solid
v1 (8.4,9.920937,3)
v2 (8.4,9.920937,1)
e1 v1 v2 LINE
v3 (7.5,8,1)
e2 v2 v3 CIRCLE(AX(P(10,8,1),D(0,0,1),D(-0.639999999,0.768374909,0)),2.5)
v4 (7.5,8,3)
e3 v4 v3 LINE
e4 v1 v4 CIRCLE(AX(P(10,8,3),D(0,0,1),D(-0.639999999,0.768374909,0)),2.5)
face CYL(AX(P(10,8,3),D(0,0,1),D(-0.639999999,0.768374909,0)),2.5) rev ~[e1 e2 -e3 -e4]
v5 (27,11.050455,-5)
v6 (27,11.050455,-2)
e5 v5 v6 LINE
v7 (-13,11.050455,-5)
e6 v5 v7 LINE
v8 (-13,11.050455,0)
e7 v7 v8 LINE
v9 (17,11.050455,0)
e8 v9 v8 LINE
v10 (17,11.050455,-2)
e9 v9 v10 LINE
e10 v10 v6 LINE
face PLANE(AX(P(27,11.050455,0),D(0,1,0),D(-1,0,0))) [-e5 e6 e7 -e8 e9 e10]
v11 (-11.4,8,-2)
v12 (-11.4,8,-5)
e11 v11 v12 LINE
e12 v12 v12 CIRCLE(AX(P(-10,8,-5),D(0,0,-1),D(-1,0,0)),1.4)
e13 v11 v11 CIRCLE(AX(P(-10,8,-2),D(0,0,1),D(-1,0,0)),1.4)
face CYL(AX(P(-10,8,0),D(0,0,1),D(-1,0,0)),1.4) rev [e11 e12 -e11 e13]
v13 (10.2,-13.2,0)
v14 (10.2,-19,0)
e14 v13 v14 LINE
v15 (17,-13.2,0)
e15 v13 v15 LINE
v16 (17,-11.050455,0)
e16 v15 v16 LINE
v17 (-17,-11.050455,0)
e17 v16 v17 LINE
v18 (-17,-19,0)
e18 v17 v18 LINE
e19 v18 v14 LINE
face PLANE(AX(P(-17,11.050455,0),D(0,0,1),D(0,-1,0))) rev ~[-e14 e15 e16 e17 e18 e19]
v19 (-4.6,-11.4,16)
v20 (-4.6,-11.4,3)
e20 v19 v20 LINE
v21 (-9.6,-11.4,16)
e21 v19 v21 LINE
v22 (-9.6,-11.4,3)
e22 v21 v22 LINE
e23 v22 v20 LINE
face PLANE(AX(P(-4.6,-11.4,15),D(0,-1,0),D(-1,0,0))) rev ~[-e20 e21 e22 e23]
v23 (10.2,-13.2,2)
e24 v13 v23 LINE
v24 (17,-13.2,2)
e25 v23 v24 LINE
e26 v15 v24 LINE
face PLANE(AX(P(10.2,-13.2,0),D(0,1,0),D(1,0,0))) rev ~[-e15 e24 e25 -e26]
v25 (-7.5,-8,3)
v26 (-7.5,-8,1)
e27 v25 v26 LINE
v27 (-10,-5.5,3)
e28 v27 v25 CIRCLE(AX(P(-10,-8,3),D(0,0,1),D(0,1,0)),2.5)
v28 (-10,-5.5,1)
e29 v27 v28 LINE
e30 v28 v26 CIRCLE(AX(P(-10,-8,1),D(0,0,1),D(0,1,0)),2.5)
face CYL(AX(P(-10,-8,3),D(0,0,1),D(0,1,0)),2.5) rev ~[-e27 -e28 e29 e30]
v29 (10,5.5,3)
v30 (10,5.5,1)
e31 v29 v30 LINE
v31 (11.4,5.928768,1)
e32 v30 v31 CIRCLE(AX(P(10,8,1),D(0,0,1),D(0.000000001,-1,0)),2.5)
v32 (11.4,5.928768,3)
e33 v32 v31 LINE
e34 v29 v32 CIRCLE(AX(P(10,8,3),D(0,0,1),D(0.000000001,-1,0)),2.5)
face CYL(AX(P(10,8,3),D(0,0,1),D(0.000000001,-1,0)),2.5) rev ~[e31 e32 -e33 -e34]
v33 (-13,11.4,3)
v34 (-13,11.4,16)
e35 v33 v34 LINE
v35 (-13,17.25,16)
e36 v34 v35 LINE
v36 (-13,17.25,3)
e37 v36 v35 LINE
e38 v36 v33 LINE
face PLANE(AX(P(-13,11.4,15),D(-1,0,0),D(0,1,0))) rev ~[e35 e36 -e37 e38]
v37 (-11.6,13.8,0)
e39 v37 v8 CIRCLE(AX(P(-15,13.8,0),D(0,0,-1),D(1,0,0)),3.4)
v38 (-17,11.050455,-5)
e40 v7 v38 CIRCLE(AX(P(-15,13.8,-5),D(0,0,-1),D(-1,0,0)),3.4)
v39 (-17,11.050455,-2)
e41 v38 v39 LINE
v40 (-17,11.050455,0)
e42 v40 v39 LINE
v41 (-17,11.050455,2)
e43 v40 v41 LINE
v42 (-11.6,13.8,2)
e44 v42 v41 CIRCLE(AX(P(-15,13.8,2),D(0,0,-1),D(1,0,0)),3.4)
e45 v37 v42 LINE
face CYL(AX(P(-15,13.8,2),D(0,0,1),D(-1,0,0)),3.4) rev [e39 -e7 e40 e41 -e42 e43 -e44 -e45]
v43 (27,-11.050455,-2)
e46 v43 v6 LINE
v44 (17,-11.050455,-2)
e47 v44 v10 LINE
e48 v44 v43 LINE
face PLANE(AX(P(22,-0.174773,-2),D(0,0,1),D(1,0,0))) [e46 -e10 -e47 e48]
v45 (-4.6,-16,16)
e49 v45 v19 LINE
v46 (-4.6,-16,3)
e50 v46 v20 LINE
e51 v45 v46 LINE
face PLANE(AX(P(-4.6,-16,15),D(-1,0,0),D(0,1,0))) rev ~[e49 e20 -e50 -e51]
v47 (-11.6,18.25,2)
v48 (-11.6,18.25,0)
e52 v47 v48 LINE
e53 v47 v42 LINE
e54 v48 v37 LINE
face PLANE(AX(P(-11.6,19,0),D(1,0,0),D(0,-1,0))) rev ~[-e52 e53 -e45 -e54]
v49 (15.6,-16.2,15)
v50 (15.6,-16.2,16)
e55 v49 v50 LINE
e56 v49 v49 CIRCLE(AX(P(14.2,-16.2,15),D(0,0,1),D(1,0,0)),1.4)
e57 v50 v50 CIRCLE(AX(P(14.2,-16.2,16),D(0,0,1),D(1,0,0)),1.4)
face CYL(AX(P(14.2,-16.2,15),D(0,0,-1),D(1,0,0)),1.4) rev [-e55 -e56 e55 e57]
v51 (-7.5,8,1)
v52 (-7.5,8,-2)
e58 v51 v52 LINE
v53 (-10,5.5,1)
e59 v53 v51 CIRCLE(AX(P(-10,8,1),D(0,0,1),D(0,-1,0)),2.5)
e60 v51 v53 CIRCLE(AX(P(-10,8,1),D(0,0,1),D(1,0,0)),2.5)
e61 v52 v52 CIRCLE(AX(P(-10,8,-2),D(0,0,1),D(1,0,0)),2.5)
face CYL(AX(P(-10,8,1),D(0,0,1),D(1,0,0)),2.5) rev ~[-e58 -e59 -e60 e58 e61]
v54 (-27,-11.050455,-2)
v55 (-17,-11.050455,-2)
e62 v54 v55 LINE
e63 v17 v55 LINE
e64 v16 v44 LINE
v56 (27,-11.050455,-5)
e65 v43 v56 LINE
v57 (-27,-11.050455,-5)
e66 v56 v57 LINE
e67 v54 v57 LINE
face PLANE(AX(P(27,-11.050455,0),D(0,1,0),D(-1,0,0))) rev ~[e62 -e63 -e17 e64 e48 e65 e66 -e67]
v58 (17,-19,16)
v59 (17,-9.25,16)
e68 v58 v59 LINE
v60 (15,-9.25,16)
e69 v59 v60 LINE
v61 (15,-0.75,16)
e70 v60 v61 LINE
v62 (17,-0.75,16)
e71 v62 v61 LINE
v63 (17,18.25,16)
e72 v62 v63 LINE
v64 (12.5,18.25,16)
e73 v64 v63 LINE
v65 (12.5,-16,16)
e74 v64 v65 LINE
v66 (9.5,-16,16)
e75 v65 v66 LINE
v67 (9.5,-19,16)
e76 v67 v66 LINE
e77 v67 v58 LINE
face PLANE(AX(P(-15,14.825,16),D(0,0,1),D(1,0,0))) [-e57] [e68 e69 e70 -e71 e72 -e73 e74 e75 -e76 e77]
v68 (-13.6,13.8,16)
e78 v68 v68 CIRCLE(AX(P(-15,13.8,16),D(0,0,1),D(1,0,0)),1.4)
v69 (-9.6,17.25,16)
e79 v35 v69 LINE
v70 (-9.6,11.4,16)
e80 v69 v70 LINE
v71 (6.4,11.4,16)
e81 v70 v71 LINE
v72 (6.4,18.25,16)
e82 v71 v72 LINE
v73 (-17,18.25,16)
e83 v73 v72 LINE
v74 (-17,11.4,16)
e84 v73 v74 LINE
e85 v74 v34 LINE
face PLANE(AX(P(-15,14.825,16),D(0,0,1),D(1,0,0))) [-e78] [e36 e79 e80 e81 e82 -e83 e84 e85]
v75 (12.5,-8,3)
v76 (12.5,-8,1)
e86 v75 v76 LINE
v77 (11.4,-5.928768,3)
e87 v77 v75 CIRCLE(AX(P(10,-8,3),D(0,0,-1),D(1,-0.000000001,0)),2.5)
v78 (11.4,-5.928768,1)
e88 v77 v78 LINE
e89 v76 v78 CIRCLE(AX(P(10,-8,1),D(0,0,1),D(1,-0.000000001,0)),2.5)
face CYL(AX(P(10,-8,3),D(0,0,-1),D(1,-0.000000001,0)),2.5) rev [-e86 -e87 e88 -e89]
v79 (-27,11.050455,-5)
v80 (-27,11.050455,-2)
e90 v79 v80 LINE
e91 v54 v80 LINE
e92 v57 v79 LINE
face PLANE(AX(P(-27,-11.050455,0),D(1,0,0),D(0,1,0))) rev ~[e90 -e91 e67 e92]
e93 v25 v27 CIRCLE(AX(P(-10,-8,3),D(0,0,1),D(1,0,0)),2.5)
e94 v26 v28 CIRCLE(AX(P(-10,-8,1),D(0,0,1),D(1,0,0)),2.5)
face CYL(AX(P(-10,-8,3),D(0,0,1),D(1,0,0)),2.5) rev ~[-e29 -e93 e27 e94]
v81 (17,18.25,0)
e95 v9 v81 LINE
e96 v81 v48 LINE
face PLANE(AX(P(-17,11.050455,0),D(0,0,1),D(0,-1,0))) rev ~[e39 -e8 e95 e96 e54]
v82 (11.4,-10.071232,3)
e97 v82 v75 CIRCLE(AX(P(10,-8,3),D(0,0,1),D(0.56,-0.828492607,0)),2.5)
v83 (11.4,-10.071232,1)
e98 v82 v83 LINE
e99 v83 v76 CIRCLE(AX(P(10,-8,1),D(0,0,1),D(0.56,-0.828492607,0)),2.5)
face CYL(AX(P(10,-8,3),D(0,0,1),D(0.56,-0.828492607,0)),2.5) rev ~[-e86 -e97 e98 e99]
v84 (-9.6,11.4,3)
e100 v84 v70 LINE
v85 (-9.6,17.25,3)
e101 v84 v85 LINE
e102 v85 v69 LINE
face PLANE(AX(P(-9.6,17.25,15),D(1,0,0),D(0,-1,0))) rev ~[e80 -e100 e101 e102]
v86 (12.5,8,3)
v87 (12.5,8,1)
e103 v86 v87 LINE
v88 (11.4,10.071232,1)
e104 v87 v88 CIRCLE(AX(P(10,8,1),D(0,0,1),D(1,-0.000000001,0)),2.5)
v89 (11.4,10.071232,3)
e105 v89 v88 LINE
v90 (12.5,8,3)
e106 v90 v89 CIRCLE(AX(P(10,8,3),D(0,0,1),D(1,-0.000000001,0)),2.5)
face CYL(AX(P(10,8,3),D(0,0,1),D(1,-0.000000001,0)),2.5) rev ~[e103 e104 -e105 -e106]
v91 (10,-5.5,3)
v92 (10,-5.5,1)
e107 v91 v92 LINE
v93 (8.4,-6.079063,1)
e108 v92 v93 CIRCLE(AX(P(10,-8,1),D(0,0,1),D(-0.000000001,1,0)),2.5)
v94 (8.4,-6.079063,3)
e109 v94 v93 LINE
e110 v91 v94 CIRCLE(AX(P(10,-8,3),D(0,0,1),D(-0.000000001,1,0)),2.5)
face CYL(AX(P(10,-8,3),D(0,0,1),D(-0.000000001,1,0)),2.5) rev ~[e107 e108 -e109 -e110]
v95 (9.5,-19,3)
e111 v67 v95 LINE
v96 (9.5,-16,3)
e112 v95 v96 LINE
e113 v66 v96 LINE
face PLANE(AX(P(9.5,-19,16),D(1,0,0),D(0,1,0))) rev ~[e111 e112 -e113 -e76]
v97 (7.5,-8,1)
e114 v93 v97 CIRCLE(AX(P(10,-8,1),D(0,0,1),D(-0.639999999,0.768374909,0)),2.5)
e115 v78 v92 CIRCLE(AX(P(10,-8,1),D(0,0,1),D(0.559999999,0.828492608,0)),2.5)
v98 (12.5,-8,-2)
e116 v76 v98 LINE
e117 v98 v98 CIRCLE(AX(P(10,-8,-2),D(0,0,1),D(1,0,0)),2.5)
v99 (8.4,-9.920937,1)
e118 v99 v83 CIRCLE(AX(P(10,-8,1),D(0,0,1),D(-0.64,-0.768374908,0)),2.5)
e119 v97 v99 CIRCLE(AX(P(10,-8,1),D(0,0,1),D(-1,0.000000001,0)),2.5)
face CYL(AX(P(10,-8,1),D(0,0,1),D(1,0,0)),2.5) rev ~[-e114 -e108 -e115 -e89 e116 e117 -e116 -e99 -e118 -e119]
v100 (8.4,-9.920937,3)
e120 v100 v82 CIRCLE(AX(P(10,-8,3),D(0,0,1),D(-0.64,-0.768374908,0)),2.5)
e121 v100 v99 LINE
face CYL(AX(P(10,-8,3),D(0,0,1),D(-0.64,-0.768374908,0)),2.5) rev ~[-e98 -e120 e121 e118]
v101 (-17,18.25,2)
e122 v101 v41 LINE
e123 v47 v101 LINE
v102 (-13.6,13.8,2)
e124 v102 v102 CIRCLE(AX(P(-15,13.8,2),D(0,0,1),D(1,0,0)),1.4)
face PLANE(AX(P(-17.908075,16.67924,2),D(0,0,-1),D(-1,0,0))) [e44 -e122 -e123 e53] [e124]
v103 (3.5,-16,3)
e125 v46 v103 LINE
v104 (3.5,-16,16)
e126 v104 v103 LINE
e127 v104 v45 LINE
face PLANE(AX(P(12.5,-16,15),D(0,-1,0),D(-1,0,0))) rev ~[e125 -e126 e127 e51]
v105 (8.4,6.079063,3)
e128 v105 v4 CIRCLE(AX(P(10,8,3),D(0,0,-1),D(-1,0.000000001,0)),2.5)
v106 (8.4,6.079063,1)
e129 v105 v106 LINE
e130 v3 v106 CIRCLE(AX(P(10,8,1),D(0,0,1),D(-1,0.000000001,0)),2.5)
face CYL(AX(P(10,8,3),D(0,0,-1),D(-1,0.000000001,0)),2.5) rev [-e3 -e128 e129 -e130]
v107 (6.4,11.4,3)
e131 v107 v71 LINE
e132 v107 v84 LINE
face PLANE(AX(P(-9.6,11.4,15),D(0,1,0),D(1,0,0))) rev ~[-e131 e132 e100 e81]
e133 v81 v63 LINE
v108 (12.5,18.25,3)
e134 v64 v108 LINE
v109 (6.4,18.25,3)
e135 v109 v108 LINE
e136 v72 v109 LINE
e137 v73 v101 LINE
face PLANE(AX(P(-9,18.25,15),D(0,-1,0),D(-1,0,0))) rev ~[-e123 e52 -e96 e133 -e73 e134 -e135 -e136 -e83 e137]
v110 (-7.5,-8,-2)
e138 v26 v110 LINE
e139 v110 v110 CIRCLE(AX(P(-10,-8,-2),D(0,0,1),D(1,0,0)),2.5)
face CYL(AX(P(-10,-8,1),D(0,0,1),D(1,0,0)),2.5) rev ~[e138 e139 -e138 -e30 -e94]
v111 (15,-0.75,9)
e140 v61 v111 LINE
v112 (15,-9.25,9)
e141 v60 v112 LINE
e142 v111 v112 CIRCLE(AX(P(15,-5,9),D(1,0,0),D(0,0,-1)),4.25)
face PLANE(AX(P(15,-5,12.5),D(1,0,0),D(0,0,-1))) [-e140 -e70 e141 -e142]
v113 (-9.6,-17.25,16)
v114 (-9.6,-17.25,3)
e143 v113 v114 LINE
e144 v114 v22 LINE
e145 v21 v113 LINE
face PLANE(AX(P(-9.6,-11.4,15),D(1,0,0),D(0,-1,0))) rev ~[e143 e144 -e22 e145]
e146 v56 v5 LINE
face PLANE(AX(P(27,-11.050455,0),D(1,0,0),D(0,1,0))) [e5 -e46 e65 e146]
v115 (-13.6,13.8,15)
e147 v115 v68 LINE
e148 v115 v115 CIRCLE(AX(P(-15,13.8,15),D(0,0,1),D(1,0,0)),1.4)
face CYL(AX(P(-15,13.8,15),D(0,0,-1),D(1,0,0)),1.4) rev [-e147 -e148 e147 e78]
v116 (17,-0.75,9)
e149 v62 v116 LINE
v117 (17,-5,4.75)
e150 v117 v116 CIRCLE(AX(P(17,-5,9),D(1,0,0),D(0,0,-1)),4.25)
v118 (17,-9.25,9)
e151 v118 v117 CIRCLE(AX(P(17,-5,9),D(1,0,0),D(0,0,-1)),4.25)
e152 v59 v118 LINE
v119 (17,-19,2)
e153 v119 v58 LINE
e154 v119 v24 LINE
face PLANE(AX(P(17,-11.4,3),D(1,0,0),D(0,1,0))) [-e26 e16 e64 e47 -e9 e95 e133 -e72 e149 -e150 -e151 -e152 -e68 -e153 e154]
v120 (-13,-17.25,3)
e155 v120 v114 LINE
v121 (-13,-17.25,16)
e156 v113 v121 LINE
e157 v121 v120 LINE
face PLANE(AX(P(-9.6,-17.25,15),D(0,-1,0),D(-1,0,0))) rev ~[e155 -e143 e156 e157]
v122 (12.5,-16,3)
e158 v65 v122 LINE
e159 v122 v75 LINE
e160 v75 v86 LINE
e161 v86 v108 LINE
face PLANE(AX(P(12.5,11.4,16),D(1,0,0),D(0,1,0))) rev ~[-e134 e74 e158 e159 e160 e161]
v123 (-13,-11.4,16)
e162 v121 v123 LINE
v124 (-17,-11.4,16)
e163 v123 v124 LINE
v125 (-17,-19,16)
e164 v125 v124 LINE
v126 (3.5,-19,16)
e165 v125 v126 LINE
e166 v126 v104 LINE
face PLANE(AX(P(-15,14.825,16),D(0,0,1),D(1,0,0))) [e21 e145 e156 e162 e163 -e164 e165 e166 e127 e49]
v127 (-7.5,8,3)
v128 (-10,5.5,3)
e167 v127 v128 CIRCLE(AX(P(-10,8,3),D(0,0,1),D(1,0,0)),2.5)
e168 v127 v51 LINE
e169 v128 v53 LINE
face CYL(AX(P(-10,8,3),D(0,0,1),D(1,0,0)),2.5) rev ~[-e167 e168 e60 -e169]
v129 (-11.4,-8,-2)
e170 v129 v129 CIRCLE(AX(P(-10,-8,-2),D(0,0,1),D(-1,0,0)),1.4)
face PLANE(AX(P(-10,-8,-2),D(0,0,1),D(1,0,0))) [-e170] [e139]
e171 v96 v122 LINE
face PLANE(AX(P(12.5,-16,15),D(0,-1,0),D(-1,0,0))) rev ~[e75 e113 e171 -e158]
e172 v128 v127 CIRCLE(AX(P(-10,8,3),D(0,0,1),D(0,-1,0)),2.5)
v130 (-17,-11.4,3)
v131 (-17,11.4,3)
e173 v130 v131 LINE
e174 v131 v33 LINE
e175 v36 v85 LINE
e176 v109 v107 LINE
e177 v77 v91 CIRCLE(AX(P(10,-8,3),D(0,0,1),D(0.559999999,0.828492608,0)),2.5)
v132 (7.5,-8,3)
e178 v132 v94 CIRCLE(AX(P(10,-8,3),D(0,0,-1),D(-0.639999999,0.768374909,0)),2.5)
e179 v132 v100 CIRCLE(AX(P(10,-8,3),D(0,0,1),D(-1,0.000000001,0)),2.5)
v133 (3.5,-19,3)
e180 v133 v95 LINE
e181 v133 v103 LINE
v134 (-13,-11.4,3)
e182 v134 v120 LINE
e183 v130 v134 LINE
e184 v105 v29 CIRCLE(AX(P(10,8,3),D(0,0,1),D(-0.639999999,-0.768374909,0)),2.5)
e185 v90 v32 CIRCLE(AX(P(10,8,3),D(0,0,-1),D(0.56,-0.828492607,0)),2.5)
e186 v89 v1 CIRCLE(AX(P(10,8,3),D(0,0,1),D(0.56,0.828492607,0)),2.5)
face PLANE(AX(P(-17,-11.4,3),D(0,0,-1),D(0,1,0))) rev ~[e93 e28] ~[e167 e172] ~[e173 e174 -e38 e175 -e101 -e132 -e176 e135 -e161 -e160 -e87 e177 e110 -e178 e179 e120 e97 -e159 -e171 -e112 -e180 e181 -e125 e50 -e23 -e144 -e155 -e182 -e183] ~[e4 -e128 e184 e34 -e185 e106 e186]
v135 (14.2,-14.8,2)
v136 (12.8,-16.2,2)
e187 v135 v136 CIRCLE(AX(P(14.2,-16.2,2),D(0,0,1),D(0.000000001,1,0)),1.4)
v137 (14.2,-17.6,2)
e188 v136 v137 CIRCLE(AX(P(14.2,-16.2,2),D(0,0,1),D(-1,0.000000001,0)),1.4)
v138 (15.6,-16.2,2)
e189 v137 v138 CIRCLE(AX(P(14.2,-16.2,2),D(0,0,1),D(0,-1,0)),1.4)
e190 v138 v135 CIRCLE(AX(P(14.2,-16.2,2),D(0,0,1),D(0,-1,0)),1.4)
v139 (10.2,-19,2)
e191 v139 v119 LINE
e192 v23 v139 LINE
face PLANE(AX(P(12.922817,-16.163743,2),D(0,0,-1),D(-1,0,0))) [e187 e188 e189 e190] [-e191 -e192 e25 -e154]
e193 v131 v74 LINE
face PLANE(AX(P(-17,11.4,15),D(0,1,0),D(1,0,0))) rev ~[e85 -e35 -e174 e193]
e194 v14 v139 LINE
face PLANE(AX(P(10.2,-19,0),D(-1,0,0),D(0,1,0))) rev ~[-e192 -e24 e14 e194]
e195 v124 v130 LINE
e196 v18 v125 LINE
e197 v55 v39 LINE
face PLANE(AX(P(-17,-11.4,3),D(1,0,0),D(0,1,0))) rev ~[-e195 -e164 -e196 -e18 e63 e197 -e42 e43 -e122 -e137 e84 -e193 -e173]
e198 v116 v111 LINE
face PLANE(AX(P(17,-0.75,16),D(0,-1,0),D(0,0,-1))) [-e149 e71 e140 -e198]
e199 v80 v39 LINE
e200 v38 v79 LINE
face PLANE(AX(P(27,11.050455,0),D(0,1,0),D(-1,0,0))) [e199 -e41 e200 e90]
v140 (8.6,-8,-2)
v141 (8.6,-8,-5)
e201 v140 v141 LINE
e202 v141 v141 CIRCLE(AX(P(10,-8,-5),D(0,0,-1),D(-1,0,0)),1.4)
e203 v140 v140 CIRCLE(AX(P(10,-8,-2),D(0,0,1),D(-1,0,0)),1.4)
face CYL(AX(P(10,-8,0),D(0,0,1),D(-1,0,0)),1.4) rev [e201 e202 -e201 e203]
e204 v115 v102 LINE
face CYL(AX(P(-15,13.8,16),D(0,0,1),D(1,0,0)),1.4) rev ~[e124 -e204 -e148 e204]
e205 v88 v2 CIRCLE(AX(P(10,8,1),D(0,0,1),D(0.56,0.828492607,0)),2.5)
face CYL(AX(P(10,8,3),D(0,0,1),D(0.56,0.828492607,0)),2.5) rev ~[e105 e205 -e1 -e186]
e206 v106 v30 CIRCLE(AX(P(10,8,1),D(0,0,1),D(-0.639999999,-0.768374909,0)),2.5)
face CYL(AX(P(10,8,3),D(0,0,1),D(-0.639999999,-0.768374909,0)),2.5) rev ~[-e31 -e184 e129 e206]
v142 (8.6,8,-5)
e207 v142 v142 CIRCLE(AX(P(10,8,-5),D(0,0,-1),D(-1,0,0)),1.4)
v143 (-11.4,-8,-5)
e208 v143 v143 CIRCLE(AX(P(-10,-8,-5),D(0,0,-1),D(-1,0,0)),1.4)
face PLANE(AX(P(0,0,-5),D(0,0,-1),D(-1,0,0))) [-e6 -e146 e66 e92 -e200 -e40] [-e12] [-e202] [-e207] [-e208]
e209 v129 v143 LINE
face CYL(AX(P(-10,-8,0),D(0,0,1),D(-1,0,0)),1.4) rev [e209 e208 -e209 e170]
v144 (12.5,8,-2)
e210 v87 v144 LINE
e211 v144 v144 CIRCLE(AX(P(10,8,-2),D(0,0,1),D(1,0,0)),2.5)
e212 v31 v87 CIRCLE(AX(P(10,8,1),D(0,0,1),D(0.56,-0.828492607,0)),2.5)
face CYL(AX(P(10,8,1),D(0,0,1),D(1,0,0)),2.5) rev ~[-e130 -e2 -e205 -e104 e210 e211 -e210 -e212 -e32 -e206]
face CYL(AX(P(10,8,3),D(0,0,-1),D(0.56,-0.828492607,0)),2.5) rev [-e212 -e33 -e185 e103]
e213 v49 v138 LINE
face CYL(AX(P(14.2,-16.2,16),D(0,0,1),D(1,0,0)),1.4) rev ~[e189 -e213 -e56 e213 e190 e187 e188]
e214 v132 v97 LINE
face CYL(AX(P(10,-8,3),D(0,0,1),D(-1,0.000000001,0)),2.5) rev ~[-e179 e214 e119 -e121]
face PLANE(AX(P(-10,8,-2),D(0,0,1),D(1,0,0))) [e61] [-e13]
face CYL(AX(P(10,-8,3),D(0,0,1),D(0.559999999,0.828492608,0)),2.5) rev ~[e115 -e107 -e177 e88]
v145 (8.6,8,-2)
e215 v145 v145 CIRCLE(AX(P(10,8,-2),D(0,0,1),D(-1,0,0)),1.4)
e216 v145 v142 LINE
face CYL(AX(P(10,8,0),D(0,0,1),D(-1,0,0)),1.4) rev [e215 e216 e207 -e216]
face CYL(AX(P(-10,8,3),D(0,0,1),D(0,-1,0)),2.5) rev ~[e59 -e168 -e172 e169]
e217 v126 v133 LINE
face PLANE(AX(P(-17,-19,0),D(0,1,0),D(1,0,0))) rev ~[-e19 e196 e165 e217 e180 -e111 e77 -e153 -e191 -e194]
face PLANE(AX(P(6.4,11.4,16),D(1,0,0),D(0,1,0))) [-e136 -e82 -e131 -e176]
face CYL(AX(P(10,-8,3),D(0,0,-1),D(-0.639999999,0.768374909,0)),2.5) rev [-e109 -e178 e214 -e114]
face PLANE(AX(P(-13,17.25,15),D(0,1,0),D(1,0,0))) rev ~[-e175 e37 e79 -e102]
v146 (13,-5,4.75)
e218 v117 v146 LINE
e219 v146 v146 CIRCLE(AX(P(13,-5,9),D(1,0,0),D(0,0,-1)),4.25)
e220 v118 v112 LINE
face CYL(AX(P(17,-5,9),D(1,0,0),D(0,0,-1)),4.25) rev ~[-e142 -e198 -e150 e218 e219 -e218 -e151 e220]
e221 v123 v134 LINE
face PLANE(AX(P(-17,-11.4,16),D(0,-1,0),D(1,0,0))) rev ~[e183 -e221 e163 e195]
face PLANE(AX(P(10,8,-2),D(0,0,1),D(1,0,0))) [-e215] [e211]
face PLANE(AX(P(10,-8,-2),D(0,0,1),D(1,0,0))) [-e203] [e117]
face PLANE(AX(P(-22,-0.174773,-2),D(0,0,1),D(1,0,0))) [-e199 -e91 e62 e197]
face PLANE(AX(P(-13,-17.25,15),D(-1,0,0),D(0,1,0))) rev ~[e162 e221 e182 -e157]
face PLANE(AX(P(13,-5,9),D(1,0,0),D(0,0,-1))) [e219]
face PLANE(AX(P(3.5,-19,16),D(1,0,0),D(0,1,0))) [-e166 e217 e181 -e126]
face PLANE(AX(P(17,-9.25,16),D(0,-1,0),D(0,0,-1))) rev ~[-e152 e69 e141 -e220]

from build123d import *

# Parameters (mm, degrees)
SKETCH1_W                = 34
SKETCH1_H                = 38
BOSS_EXTRUDE1_DEPTH      = 16
SKETCH2_W                = 22.4
SKETCH2_H                = 22.8
SKETCH2_W_2              = 2.4
SKETCH2_H_2              = 4.85
CUT_EXTRUDE1_DEPTH       = 13
SKETCH3_W                = 10
SKETCH3_H                = 4.6
SKETCH3_W_2              = 3
CUT_EXTRUDE2_DEPTH       = 13
SKETCH4_R                = 1.4
CUT_EXTRUDE3_DEPTH       = 17
CUT_EXTRUDE5_DEPTH       = 2
SKETCH7_W                = 34
SKETCH7_H                = 1
CUT_EXTRUDE6_DEPTH       = 39
SKETCH9_W                = 8
SKETCH9_H                = 0.75
SKETCH9_W_2              = 5
SKETCH9_H_2              = 6.5
SKETCH9_W_3              = 3.6
SKETCH9_H_3              = 11.5
SKETCH9_W_4              = 17
SKETCH9_H_4              = 2
SKETCH9_W_5              = 3
SKETCH9_H_5              = 6.6
SKETCH9_W_6              = 5.4
CUT_EXTRUDE9_DEPTH       = 16
CUT_EXTRUDE10_DEPTH      = 13
CUT_EXTRUDE10_DEPTH_BACK = 2
SKETCH11_W               = 5
SKETCH11_H               = 4.5
CUT_EXTRUDE11_DEPTH      = 12
SKETCH12_W               = 1
SKETCH12_H               = 4.85
SKETCH12_H_2             = 22.8
CUT_EXTRUDE12_DEPTH      = 12
SKETCH14_R               = 4.25
CUT_EXTRUDE13_DEPTH      = 4
SKETCH17_W               = 3.4
SKETCH17_H               = 1
CUT_EXTRUDE16_DEPTH      = 12
SKETCH18_R               = 1.4
CUT_EXTRUDE17_DEPTH      = 12
BOSS_EXTRUDE2_DEPTH      = 16
SKETCH20_R               = 1.4
SKETCH20_W               = 3.4
SKETCH20_H               = 1
BOSS_EXTRUDE3_DEPTH      = 1
SKETCH21_W               = 5
SKETCH21_H               = 23.876697272
CUT_EXTRUDE18_DEPTH      = 13
BOSS_EXTRUDE4_DEPTH      = 10
SKETCH23_W               = 6.1
SKETCH23_H               = 6.85
CUT_EXTRUDE19_DEPTH      = 13
SKETCH26_W               = 1.2
SKETCH26_H               = 2
CUT_EXTRUDE21_DEPTH      = 2
SKETCH27_W               = 54
SKETCH27_H               = 22.100909166
SKETCH27_R               = 1.4
BOSS_EXTRUDE6_DEPTH      = 5
SKETCH28_W               = 10
SKETCH28_H               = 22.450454583
CUT_EXTRUDE22_DEPTH      = 5
SKETCH29_R               = 3.4
SKETCH29_R_2             = 1.4
CUT_EXTRUDE23_DEPTH      = 7
SKETCH30_R               = 2.5
SKETCH30_R_2             = 1.4
CUT_EXTRUDE24_DEPTH      = 3
SKETCH31_W               = 6
SKETCH31_H               = 3
CUT_EXTRUDE25_DEPTH      = 13
SKETCH32_W               = 7
SKETCH32_H               = 8.5
CUT_EXTRUDE26_DEPTH      = 2


with BuildPart() as part:
    # Sketch1 → Boss-Extrude1 (new body)
    with BuildSketch(Plane.XY):
        Rectangle(SKETCH1_W, SKETCH1_H)
    extrude(amount=BOSS_EXTRUDE1_DEPTH)

    # Sketch2 → Cut-Extrude1 (cut)
    with BuildSketch(Plane.XY.offset(16)):
        with Locations((-5.8, 0)):
            Rectangle(SKETCH2_W, SKETCH2_H)
        with Locations((-11.8, -13.825)):
            Rectangle(SKETCH2_W_2, SKETCH2_H_2)
        with Locations((-11.8, 13.825)):
            Rectangle(SKETCH2_W_2, SKETCH2_H_2)
    extrude(amount=-CUT_EXTRUDE1_DEPTH, mode=Mode.SUBTRACT)

    # Sketch3 → Cut-Extrude2 (cut)
    with BuildSketch(Plane.XY.offset(16)):
        Polygon((8.4, 19), (8.4, -11.4), (8.4, -16), (11.4, -16), (11.4, 19), align=None)
        with Locations((0.4, -13.7)):
            Rectangle(SKETCH3_W, SKETCH3_H)
        with Locations((6.9, -13.7)):
            Rectangle(SKETCH3_W_2, SKETCH3_H)
    extrude(amount=-CUT_EXTRUDE2_DEPTH, mode=Mode.SUBTRACT)

    # Sketch4 → Cut-Extrude3 (cut, through all)
    with BuildSketch(Plane.XY.offset(16)):
        with Locations((-15, 13.8)):
            Circle(SKETCH4_R)
        with Locations((14.2, -16.2)):
            Circle(SKETCH4_R)
    extrude(amount=-CUT_EXTRUDE3_DEPTH, mode=Mode.SUBTRACT)

    # Sketch5 → Cut-Extrude5 (cut)
    with BuildSketch(Plane(origin=(0, 0, 0), x_dir=(-1, 0, 0), z_dir=(0, 0, -1))):
        with BuildLine():
            Line((-14.2, -19), (-13.122967039, -19))
            ThreePointArc((-13.122967039, -19), (-11.727036304, -17.898367027), (-11.2, -16.2))
            ThreePointArc((-11.2, -16.2), (-12.078679656, -14.078679656), (-14.2, -13.2))
            Line((-14.2, -13.2), (-14.2, -14.8))
            ThreePointArc((-14.2, -14.8), (-13.210050506, -15.210050506), (-12.8, -16.2))
            ThreePointArc((-12.8, -16.2), (-13.210050506, -17.189949494), (-14.2, -17.6))
            Line((-14.2, -17.6), (-14.2, -19))
        make_face()
        with BuildLine():
            Line((-14.2, -14.8), (-14.2, -13.2))
            ThreePointArc((-14.2, -13.2), (-15.898367027, -13.727036304), (-17, -15.122967039))
            Line((-17, -15.122967039), (-17, -17.277032961))
            ThreePointArc((-17, -17.277032961), (-16.321320344, -18.321320344), (-15.277032961, -19))
            Line((-15.277032961, -19), (-14.2, -19))
            Line((-14.2, -19), (-14.2, -17.6))
            ThreePointArc((-14.2, -17.6), (-15.6, -16.2), (-14.2, -14.8))
        make_face()
        with BuildLine():
            Line((-17, -19), (-15.277032961, -19))
            ThreePointArc((-15.277032961, -19), (-16.321320344, -18.321320344), (-17, -17.277032961))
            Line((-17, -17.277032961), (-17, -19))
        make_face()
        with BuildLine():
            Line((-14.2, -13.2), (-17, -13.2))
            Line((-17, -13.2), (-17, -15.122967039))
            ThreePointArc((-17, -15.122967039), (-15.898367027, -13.727036304), (-14.2, -13.2))
        make_face()
        with BuildLine():
            Line((-17, -17.277032961), (-17, -15.122967039))
            ThreePointArc((-17, -15.122967039), (-17.2, -16.2), (-17, -17.277032961))
        make_face()
        with BuildLine():
            ThreePointArc((-14.2, -19.2), (-13.652277442, -19.149576241), (-13.122967039, -19))
            Line((-13.122967039, -19), (-14.2, -19))
            Line((-14.2, -19), (-14.2, -19.2))
        make_face()
        with BuildLine():
            ThreePointArc((-15.277032961, -19), (-14.747722558, -19.149576241), (-14.2, -19.2))
            Line((-14.2, -19.2), (-14.2, -19))
            Line((-14.2, -19), (-15.277032961, -19))
        make_face()
        with BuildLine():
            Line((-17, -19.2), (-14.2, -19.2))
            ThreePointArc((-14.2, -19.2), (-14.747722558, -19.149576241), (-15.277032961, -19))
            Line((-15.277032961, -19), (-17, -19))
            Line((-17, -19), (-17, -19.2))
        make_face()
        with BuildLine():
            ThreePointArc((-14.2, -19.2), (-13.652277442, -19.149576241), (-13.122967039, -19))
            Line((-13.122967039, -19), (-14.2, -19))
            Line((-14.2, -19), (-14.2, -19.2))
        make_face()
        with BuildLine():
            ThreePointArc((-15.277032961, -19), (-14.747722558, -19.149576241), (-14.2, -19.2))
            Line((-14.2, -19.2), (-14.2, -19))
            Line((-14.2, -19), (-15.277032961, -19))
        make_face()
        with BuildLine():
            ThreePointArc((17, 16.549545417), (18.029851482, 15.342724862), (18.4, 13.8))
            Line((18.4, 13.8), (18.4, 19))
            Line((18.4, 19), (17, 19))
            Line((17, 19), (17, 16.549545417))
        make_face()
        with BuildLine():
            ThreePointArc((11.6, 13.8), (13.457275138, 16.829851482), (17, 16.549545417))
            Line((17, 16.549545417), (17, 19))
            Line((17, 19), (11.6, 19))
            Line((11.6, 19), (11.6, 13.8))
        make_face()
        with BuildLine():
            Line((17, 11.050454583), (17, 13.8))
            Line((17, 13.8), (16.4, 13.8))
            ThreePointArc((16.4, 13.8), (15, 12.4), (13.6, 13.8))
            Line((13.6, 13.8), (11.6, 13.8))
            ThreePointArc((11.6, 13.8), (13.457275138, 10.770148518), (17, 11.050454583))
        make_face()
        with BuildLine():
            Line((16.4, 13.8), (17, 13.8))
            Line((17, 13.8), (17, 16.549545417))
            ThreePointArc((17, 16.549545417), (13.457275138, 16.829851482), (11.6, 13.8))
            Line((11.6, 13.8), (13.6, 13.8))
            ThreePointArc((13.6, 13.8), (15, 15.2), (16.4, 13.8))
        make_face()
        with BuildLine():
            ThreePointArc((17, 11.050454583), (18.029851482, 12.257275138), (18.4, 13.8))
            Line((18.4, 13.8), (17, 13.8))
            Line((17, 13.8), (17, 11.050454583))
        make_face()
        with BuildLine():
            Line((17, 13.8), (18.4, 13.8))
            ThreePointArc((18.4, 13.8), (18.029851482, 15.342724862), (17, 16.549545417))
            Line((17, 16.549545417), (17, 13.8))
        make_face()
        with BuildLine():
            ThreePointArc((17, 11.050454583), (18.029851482, 12.257275138), (18.4, 13.8))
            Line((18.4, 13.8), (17, 13.8))
            Line((17, 13.8), (17, 11.050454583))
        make_face()
        with BuildLine():
            Line((17, 13.8), (18.4, 13.8))
            ThreePointArc((18.4, 13.8), (18.029851482, 15.342724862), (17, 16.549545417))
            Line((17, 16.549545417), (17, 13.8))
        make_face()
        with BuildLine():
            Line((17, 11.050454583), (17, 13.8))
            Line((17, 13.8), (16.4, 13.8))
            ThreePointArc((16.4, 13.8), (15, 12.4), (13.6, 13.8))
            Line((13.6, 13.8), (11.6, 13.8))
            ThreePointArc((11.6, 13.8), (13.457275138, 10.770148518), (17, 11.050454583))
        make_face()
        with BuildLine():
            Line((16.4, 13.8), (17, 13.8))
            Line((17, 13.8), (17, 16.549545417))
            ThreePointArc((17, 16.549545417), (13.457275138, 16.829851482), (11.6, 13.8))
            Line((11.6, 13.8), (13.6, 13.8))
            ThreePointArc((13.6, 13.8), (15, 15.2), (16.4, 13.8))
        make_face()
        with BuildLine():
            Line((-13.122967039, -19), (-10.2, -19))
            Line((-10.2, -19), (-10.2, -13.2))
            Line((-10.2, -13.2), (-14.2, -13.2))
            ThreePointArc((-14.2, -13.2), (-12.078679656, -14.078679656), (-11.2, -16.2))
            ThreePointArc((-11.2, -16.2), (-11.727036304, -17.898367027), (-13.122967039, -19))
        make_face()
    extrude(amount=-CUT_EXTRUDE5_DEPTH, mode=Mode.SUBTRACT)

    # Sketch7 → Cut-Extrude6 (cut, through all)
    with BuildSketch(Plane(origin=(0, 19, 0), x_dir=(1, 0, 0), z_dir=(0, 1, 0))):
        with Locations((0, -15.5)):
            Rectangle(SKETCH7_W, SKETCH7_H)
    extrude(amount=-CUT_EXTRUDE6_DEPTH, mode=Mode.SUBTRACT)

    # Sketch9 → Cut-Extrude9 (cut, through all)
    with BuildSketch(Plane.XY.offset(15)):
        Polygon((8.4, 19), (-9, 19), (-9, 18.25), (-9, 12.5), (8.4, 12.5), align=None)
        with Locations((-13, 18.625)):
            Rectangle(SKETCH9_W, SKETCH9_H)
        with Locations((10.9, 15.75)):
            Rectangle(SKETCH9_W_2, SKETCH9_H_2)
        with Locations((15.2, 15.75)):
            Rectangle(SKETCH9_W_3, SKETCH9_H_2)
        with Locations((15.2, 6.75)):
            Rectangle(SKETCH9_W_3, SKETCH9_H_3)
        with Locations((2.9, -18)):
            Rectangle(SKETCH9_W_4, SKETCH9_H_4)
        with Locations((-7.1, -15.7)):
            Rectangle(SKETCH9_W_5, SKETCH9_H_5)
        with Locations((-11.3, -18.625)):
            Rectangle(SKETCH9_W_6, SKETCH9_H)
        with Locations((-15.5, -15.7)):
            Rectangle(SKETCH9_W_5, SKETCH9_H_5)
    extrude(amount=-CUT_EXTRUDE9_DEPTH, mode=Mode.SUBTRACT)

    # Sketch10 → Cut-Extrude10 (cut, two sides)
    with BuildSketch(Plane.XY.offset(3)) as cut_extrude10_sk:
        with BuildLine():
            Line((-10, 5.5), (-10, 8))
            Line((-10, 8), (-7.5, 8))
            ThreePointArc((-7.5, 8), (-11.767766953, 9.767766953), (-10, 5.5))
        make_face()
        with BuildLine():
            Line((-7.5, 8), (-10, 8))
            Line((-10, 8), (-10, 5.5))
            ThreePointArc((-10, 5.5), (-8.232233047, 6.232233047), (-7.5, 8))
        make_face()
        with BuildLine():
            Line((-10, 5.5), (-10, 8))
            Line((-10, 8), (-7.5, 8))
            ThreePointArc((-7.5, 8), (-11.767766953, 9.767766953), (-10, 5.5))
        make_face()
        with BuildLine():
            Line((-7.5, 8), (-10, 8))
            Line((-10, 8), (-10, 5.5))
            ThreePointArc((-10, 5.5), (-8.232233047, 6.232233047), (-7.5, 8))
        make_face()
        with BuildLine():
            Line((10, 8), (8.4, 8))
            Line((8.4, 8), (8.4, 6.079062729))
            ThreePointArc((8.4, 6.079062729), (9.149218941, 5.649218941), (10, 5.5))
            Line((10, 5.5), (10, 8))
        make_face()
        with BuildLine():
            Line((8.4, 9.920937271), (8.4, 8))
            Line((8.4, 8), (10, 8))
            Line((10, 8), (10, 5.5))
            ThreePointArc((10, 5.5), (10.732093302, 5.609594303), (11.4, 5.928768482))
            Line((11.4, 5.928768482), (11.4, 10.071231518))
            ThreePointArc((11.4, 10.071231518), (9.874911671, 10.496868621), (8.4, 9.920937271))
        make_face()
        with BuildLine():
            ThreePointArc((12.5, 8), (12.207940217, 9.17260394), (11.4, 10.071231518))
            Line((11.4, 10.071231518), (11.4, 5.928768482))
            ThreePointArc((11.4, 5.928768482), (12.207940217, 6.82739606), (12.5, 8))
        make_face()
        with BuildLine():
            ThreePointArc((8.4, 9.920937271), (7.736153715, 9.060660172), (7.5, 8))
            Line((7.5, 8), (8.4, 8))
            Line((8.4, 8), (8.4, 9.920937271))
        make_face()
        with BuildLine():
            Line((8.4, 8), (7.5, 8))
            ThreePointArc((7.5, 8), (7.736153715, 6.939339828), (8.4, 6.079062729))
            Line((8.4, 6.079062729), (8.4, 8))
        make_face()
        with BuildLine():
            ThreePointArc((8.4, 9.920937271), (7.736153715, 9.060660172), (7.5, 8))
            Line((7.5, 8), (8.4, 8))
            Line((8.4, 8), (8.4, 9.920937271))
        make_face()
        with BuildLine():
            Line((8.4, 8), (7.5, 8))
            ThreePointArc((7.5, 8), (7.736153715, 6.939339828), (8.4, 6.079062729))
            Line((8.4, 6.079062729), (8.4, 8))
        make_face()
        with BuildLine():
            ThreePointArc((-7.5, -8), (-8.232233047, -6.232233047), (-10, -5.5))
            Line((-10, -5.5), (-10, -8))
            Line((-10, -8), (-7.5, -8))
        make_face()
        with BuildLine():
            Line((-10, -8), (-10, -5.5))
            ThreePointArc((-10, -5.5), (-11.767766953, -9.767766953), (-7.5, -8))
            Line((-7.5, -8), (-10, -8))
        make_face()
        with BuildLine():
            ThreePointArc((-7.5, -8), (-8.232233047, -6.232233047), (-10, -5.5))
            Line((-10, -5.5), (-10, -8))
            Line((-10, -8), (-7.5, -8))
        make_face()
        with BuildLine():
            Line((-10, -8), (-10, -5.5))
            ThreePointArc((-10, -5.5), (-11.767766953, -9.767766953), (-7.5, -8))
            Line((-7.5, -8), (-10, -8))
        make_face()
        with BuildLine():
            ThreePointArc((11.4, -5.928768482), (10.732093302, -5.609594303), (10, -5.5))
            Line((10, -5.5), (10, -8))
            Line((10, -8), (8.4, -8))
            Line((8.4, -8), (8.4, -9.920937271))
            ThreePointArc((8.4, -9.920937271), (9.874911671, -10.496868621), (11.4, -10.071231518))
            Line((11.4, -10.071231518), (11.4, -5.928768482))
        make_face()
        with BuildLine():
            ThreePointArc((12.5, -8), (12.207940217, -6.82739606), (11.4, -5.928768482))
            Line((11.4, -5.928768482), (11.4, -10.071231518))
            ThreePointArc((11.4, -10.071231518), (12.207940217, -9.17260394), (12.5, -8))
        make_face()
        with BuildLine():
            ThreePointArc((10, -5.5), (9.149218941, -5.649218941), (8.4, -6.079062729))
            Line((8.4, -6.079062729), (8.4, -8))
            Line((8.4, -8), (10, -8))
            Line((10, -8), (10, -5.5))
        make_face()
        with BuildLine():
            Line((8.4, -8), (8.4, -6.079062729))
            ThreePointArc((8.4, -6.079062729), (7.736153715, -6.939339828), (7.5, -8))
            Line((7.5, -8), (8.4, -8))
        make_face()
        with BuildLine():
            Line((8.4, -8), (7.5, -8))
            ThreePointArc((7.5, -8), (7.736153715, -9.060660172), (8.4, -9.920937271))
            Line((8.4, -9.920937271), (8.4, -8))
        make_face()
        with BuildLine():
            Line((8.4, -8), (8.4, -6.079062729))
            ThreePointArc((8.4, -6.079062729), (7.736153715, -6.939339828), (7.5, -8))
            Line((7.5, -8), (8.4, -8))
        make_face()
        with BuildLine():
            Line((8.4, -8), (7.5, -8))
            ThreePointArc((7.5, -8), (7.736153715, -9.060660172), (8.4, -9.920937271))
            Line((8.4, -9.920937271), (8.4, -8))
        make_face()
    extrude(amount=CUT_EXTRUDE10_DEPTH, mode=Mode.SUBTRACT)
    extrude(cut_extrude10_sk.sketch, amount=-CUT_EXTRUDE10_DEPTH_BACK, mode=Mode.SUBTRACT)

    # Sketch11 → Cut-Extrude11 (cut)
    with BuildSketch(Plane.XY.offset(15)):
        Polygon((12.5, -8), (7.5, -8), (7.5, -11.4), (11.4, -11.4), (11.4, -16), (12.5, -16), (12.5, -11.4), align=None)
        with Locations((10, 10.25)):
            Rectangle(SKETCH11_W, SKETCH11_H)
    extrude(amount=-CUT_EXTRUDE11_DEPTH, mode=Mode.SUBTRACT)

    # Sketch12 → Cut-Extrude12 (cut)
    with BuildSketch(Plane.XY.offset(15)):
        with Locations((-10.1, 13.825)):
            Rectangle(SKETCH12_W, SKETCH12_H)
        with Locations((-10.1, -13.825)):
            Rectangle(SKETCH12_W, SKETCH12_H)
        with Locations((5.9, 0)):
            Rectangle(SKETCH12_W, SKETCH12_H_2)
    extrude(amount=-CUT_EXTRUDE12_DEPTH, mode=Mode.SUBTRACT)

    # Sketch14 → Cut-Extrude13 (cut)
    with BuildSketch(Plane(origin=(17, 0, 0), x_dir=(0, 0, -1), z_dir=(1, 0, 0))):
        with Locations((-9, -5)):
            Circle(SKETCH14_R)
    extrude(amount=-CUT_EXTRUDE13_DEPTH, mode=Mode.SUBTRACT)

    # Sketch17 → Cut-Extrude16 (cut)
    with BuildSketch(Plane.XY.offset(15)):
        with Locations((-11.3, 16.75)):
            Rectangle(SKETCH17_W, SKETCH17_H)
        with Locations((-11.3, -16.75)):
            Rectangle(SKETCH17_W, SKETCH17_H)
    extrude(amount=-CUT_EXTRUDE16_DEPTH, mode=Mode.SUBTRACT)

    # Sketch18 → Cut-Extrude17 (cut)
    with BuildSketch(Plane.XY.offset(1)):
        with Locations((-10, 8)):
            Circle(SKETCH18_R)
        with Locations((10, 8)):
            Circle(SKETCH18_R)
        with Locations((-10, -8)):
            Circle(SKETCH18_R)
        with Locations((10, -8)):
            Circle(SKETCH18_R)
    extrude(amount=-CUT_EXTRUDE17_DEPTH, mode=Mode.SUBTRACT)

    # Sketch19 → Boss-Extrude2 (add)
    with BuildSketch(Plane.XY):
        Polygon((17, 18.25), (-9, 18.25), (-9, 12.476697272), (13.4, 12.476697272), (13.4, 1), (17, 1), align=None)
        Polygon((-14, -12.4), (-17, -12.4), (-17, -19), (11.4, -19), (11.4, -17), (-5.6, -17), (-5.6, -12.4), (-8.6, -12.4), (-8.6, -18.25), (-14, -18.25), align=None)
    extrude(amount=BOSS_EXTRUDE2_DEPTH)

    # Sketch20 → Boss-Extrude3 (add)
    with BuildSketch(Plane.XY.offset(15)):
        Polygon((-13, 18.25), (-17, 18.25), (-17, 11.4), (-13, 11.4), (-13, 17.25), align=None)
        with Locations((-15, 13.8)):
            Circle(SKETCH20_R, mode=Mode.SUBTRACT)
        with Locations((-11.3, 17.75)):
            Rectangle(SKETCH20_W, SKETCH20_H)
        Polygon((-9, 18.25), (-9.6, 18.25), (-9.6, 17.25), (-9.6, 11.4), (-9, 11.4), (-9, 12.476697272), align=None)
        Polygon((7.5, 12.476697272), (-9, 12.476697272), (-9, 11.4), (6.4, 11.4), (7.5, 11.4), align=None)
        Polygon((7.5, 11.4), (6.4, 11.4), (6.4, -11.4), (7.5, -11.4), (7.5, -8), (7.5, 8), align=None)
        Polygon((-13, -11.4), (-17, -11.4), (-17, -12.4), (-14, -12.4), (-14, -18.25), (-8.6, -18.25), (-8.6, -12.4), (-5.6, -12.4), (-5.6, -17), (11.4, -17), (11.4, -19), (13.4, -19), (17, -19), (17, 1), (13.4, 1), (13.4, 12.476697272), (12.5, 12.476697272), (12.5, -16), (-4.6, -16), (-4.6, -11.4), (-9.6, -11.4), (-9.6, -17.25), (-13, -17.25), align=None)
        with Locations((14.2, -16.2)):
            Circle(SKETCH20_R, mode=Mode.SUBTRACT)
    extrude(amount=BOSS_EXTRUDE3_DEPTH)

    # Sketch21 → Cut-Extrude18 (cut)
    with BuildSketch(Plane.XY.offset(16)):
        with Locations((10, 0.538348636)):
            Rectangle(SKETCH21_W, SKETCH21_H)
        Polygon((7.5, -11.4), (7.5, 12.476697272), (6.4, 12.476697272), (6.4, 11.4), (6.4, -11.4), align=None)
    extrude(amount=-CUT_EXTRUDE18_DEPTH, mode=Mode.SUBTRACT)

    # Sketch22 → Boss-Extrude4 (add)
    with BuildSketch(Plane.ZY.offset(17)):
        Polygon((2, 11.050454583), (0, 11.050454583), (0, -11.4), (3, -11.4), (3, 11.050454583), align=None)
    boss_extrude4 = extrude(amount=BOSS_EXTRUDE4_DEPTH)

    # Mirror1: Boss-Extrude4 across plane
    add(boss_extrude4.mirror(Plane(origin=(0, 0, 0), x_dir=(0, 0, 1), z_dir=(1, 0, 0))))

    # Sketch23 → Cut-Extrude19 (cut)
    with BuildSketch(Plane.XY.offset(16)):
        with Locations((9.45, 14.825)):
            Rectangle(SKETCH23_W, SKETCH23_H)
    extrude(amount=-CUT_EXTRUDE19_DEPTH, mode=Mode.SUBTRACT)

    # Sketch26 → Cut-Extrude21 (cut)
    with BuildSketch(Plane(origin=(0, 0, 0), x_dir=(-1, 0, 0), z_dir=(0, 0, -1))):
        with Locations((-10.8, -18)):
            Rectangle(SKETCH26_W, SKETCH26_H)
    extrude(amount=-CUT_EXTRUDE21_DEPTH, mode=Mode.SUBTRACT)

    # Sketch27 → Boss-Extrude6 (add)
    with BuildSketch(Plane(origin=(0, 0, 0), x_dir=(-1, 0, 0), z_dir=(0, 0, -1))):
        Rectangle(SKETCH27_W, SKETCH27_H)
        with Locations((-10, 8)):
            Circle(SKETCH27_R, mode=Mode.SUBTRACT)
        with Locations((-10, -8)):
            Circle(SKETCH27_R, mode=Mode.SUBTRACT)
        with Locations((10, -8)):
            Circle(SKETCH27_R, mode=Mode.SUBTRACT)
        with Locations((10, 8)):
            Circle(SKETCH27_R, mode=Mode.SUBTRACT)
    extrude(amount=BOSS_EXTRUDE6_DEPTH)

    # Sketch28 → Cut-Extrude22 (cut)
    with BuildSketch(Plane.XY.offset(3)):
        with Locations((-22, -0.174772708)):
            Rectangle(SKETCH28_W, SKETCH28_H)
        with Locations((22, -0.174772708)):
            Rectangle(SKETCH28_W, SKETCH28_H)
    extrude(amount=-CUT_EXTRUDE22_DEPTH, mode=Mode.SUBTRACT)

    # Sketch29 → Cut-Extrude23 (cut)
    with BuildSketch(Plane(origin=(0, 0, 2), x_dir=(-1, 0, 0), z_dir=(0, 0, -1))):
        with Locations((15, 13.8)):
            Circle(SKETCH29_R)
        with Locations((15, 13.8)):
            Circle(SKETCH29_R_2, mode=Mode.SUBTRACT)
    extrude(amount=CUT_EXTRUDE23_DEPTH, mode=Mode.SUBTRACT)

    # Sketch30 → Cut-Extrude24 (cut)
    with BuildSketch(Plane.XY.offset(1)):
        with Locations((-10, 8)):
            Circle(SKETCH30_R)
        with Locations((-10, 8)):
            Circle(SKETCH30_R_2, mode=Mode.SUBTRACT)
        with Locations((-10, -8)):
            Circle(SKETCH30_R)
        with Locations((-10, -8)):
            Circle(SKETCH30_R_2, mode=Mode.SUBTRACT)
        with Locations((10, -8)):
            Circle(SKETCH30_R)
        with Locations((10, -8)):
            Circle(SKETCH30_R_2, mode=Mode.SUBTRACT)
        with Locations((10, 8)):
            Circle(SKETCH30_R)
        with Locations((10, 8)):
            Circle(SKETCH30_R_2, mode=Mode.SUBTRACT)
    extrude(amount=-CUT_EXTRUDE24_DEPTH, mode=Mode.SUBTRACT)

    # Sketch31 → Cut-Extrude25 (cut)
    with BuildSketch(Plane.XY.offset(16)):
        with Locations((6.5, -17.5)):
            Rectangle(SKETCH31_W, SKETCH31_H)
    extrude(amount=-CUT_EXTRUDE25_DEPTH, mode=Mode.SUBTRACT)

    # Sketch32 → Cut-Extrude26 (cut)
    with BuildSketch(Plane(origin=(17, 0, 0), x_dir=(0, 0, -1), z_dir=(1, 0, 0))):
        with Locations((-12.5, -5)):
            Rectangle(SKETCH32_W, SKETCH32_H)
    extrude(amount=-CUT_EXTRUDE26_DEPTH, mode=Mode.SUBTRACT)


solid = part.part
